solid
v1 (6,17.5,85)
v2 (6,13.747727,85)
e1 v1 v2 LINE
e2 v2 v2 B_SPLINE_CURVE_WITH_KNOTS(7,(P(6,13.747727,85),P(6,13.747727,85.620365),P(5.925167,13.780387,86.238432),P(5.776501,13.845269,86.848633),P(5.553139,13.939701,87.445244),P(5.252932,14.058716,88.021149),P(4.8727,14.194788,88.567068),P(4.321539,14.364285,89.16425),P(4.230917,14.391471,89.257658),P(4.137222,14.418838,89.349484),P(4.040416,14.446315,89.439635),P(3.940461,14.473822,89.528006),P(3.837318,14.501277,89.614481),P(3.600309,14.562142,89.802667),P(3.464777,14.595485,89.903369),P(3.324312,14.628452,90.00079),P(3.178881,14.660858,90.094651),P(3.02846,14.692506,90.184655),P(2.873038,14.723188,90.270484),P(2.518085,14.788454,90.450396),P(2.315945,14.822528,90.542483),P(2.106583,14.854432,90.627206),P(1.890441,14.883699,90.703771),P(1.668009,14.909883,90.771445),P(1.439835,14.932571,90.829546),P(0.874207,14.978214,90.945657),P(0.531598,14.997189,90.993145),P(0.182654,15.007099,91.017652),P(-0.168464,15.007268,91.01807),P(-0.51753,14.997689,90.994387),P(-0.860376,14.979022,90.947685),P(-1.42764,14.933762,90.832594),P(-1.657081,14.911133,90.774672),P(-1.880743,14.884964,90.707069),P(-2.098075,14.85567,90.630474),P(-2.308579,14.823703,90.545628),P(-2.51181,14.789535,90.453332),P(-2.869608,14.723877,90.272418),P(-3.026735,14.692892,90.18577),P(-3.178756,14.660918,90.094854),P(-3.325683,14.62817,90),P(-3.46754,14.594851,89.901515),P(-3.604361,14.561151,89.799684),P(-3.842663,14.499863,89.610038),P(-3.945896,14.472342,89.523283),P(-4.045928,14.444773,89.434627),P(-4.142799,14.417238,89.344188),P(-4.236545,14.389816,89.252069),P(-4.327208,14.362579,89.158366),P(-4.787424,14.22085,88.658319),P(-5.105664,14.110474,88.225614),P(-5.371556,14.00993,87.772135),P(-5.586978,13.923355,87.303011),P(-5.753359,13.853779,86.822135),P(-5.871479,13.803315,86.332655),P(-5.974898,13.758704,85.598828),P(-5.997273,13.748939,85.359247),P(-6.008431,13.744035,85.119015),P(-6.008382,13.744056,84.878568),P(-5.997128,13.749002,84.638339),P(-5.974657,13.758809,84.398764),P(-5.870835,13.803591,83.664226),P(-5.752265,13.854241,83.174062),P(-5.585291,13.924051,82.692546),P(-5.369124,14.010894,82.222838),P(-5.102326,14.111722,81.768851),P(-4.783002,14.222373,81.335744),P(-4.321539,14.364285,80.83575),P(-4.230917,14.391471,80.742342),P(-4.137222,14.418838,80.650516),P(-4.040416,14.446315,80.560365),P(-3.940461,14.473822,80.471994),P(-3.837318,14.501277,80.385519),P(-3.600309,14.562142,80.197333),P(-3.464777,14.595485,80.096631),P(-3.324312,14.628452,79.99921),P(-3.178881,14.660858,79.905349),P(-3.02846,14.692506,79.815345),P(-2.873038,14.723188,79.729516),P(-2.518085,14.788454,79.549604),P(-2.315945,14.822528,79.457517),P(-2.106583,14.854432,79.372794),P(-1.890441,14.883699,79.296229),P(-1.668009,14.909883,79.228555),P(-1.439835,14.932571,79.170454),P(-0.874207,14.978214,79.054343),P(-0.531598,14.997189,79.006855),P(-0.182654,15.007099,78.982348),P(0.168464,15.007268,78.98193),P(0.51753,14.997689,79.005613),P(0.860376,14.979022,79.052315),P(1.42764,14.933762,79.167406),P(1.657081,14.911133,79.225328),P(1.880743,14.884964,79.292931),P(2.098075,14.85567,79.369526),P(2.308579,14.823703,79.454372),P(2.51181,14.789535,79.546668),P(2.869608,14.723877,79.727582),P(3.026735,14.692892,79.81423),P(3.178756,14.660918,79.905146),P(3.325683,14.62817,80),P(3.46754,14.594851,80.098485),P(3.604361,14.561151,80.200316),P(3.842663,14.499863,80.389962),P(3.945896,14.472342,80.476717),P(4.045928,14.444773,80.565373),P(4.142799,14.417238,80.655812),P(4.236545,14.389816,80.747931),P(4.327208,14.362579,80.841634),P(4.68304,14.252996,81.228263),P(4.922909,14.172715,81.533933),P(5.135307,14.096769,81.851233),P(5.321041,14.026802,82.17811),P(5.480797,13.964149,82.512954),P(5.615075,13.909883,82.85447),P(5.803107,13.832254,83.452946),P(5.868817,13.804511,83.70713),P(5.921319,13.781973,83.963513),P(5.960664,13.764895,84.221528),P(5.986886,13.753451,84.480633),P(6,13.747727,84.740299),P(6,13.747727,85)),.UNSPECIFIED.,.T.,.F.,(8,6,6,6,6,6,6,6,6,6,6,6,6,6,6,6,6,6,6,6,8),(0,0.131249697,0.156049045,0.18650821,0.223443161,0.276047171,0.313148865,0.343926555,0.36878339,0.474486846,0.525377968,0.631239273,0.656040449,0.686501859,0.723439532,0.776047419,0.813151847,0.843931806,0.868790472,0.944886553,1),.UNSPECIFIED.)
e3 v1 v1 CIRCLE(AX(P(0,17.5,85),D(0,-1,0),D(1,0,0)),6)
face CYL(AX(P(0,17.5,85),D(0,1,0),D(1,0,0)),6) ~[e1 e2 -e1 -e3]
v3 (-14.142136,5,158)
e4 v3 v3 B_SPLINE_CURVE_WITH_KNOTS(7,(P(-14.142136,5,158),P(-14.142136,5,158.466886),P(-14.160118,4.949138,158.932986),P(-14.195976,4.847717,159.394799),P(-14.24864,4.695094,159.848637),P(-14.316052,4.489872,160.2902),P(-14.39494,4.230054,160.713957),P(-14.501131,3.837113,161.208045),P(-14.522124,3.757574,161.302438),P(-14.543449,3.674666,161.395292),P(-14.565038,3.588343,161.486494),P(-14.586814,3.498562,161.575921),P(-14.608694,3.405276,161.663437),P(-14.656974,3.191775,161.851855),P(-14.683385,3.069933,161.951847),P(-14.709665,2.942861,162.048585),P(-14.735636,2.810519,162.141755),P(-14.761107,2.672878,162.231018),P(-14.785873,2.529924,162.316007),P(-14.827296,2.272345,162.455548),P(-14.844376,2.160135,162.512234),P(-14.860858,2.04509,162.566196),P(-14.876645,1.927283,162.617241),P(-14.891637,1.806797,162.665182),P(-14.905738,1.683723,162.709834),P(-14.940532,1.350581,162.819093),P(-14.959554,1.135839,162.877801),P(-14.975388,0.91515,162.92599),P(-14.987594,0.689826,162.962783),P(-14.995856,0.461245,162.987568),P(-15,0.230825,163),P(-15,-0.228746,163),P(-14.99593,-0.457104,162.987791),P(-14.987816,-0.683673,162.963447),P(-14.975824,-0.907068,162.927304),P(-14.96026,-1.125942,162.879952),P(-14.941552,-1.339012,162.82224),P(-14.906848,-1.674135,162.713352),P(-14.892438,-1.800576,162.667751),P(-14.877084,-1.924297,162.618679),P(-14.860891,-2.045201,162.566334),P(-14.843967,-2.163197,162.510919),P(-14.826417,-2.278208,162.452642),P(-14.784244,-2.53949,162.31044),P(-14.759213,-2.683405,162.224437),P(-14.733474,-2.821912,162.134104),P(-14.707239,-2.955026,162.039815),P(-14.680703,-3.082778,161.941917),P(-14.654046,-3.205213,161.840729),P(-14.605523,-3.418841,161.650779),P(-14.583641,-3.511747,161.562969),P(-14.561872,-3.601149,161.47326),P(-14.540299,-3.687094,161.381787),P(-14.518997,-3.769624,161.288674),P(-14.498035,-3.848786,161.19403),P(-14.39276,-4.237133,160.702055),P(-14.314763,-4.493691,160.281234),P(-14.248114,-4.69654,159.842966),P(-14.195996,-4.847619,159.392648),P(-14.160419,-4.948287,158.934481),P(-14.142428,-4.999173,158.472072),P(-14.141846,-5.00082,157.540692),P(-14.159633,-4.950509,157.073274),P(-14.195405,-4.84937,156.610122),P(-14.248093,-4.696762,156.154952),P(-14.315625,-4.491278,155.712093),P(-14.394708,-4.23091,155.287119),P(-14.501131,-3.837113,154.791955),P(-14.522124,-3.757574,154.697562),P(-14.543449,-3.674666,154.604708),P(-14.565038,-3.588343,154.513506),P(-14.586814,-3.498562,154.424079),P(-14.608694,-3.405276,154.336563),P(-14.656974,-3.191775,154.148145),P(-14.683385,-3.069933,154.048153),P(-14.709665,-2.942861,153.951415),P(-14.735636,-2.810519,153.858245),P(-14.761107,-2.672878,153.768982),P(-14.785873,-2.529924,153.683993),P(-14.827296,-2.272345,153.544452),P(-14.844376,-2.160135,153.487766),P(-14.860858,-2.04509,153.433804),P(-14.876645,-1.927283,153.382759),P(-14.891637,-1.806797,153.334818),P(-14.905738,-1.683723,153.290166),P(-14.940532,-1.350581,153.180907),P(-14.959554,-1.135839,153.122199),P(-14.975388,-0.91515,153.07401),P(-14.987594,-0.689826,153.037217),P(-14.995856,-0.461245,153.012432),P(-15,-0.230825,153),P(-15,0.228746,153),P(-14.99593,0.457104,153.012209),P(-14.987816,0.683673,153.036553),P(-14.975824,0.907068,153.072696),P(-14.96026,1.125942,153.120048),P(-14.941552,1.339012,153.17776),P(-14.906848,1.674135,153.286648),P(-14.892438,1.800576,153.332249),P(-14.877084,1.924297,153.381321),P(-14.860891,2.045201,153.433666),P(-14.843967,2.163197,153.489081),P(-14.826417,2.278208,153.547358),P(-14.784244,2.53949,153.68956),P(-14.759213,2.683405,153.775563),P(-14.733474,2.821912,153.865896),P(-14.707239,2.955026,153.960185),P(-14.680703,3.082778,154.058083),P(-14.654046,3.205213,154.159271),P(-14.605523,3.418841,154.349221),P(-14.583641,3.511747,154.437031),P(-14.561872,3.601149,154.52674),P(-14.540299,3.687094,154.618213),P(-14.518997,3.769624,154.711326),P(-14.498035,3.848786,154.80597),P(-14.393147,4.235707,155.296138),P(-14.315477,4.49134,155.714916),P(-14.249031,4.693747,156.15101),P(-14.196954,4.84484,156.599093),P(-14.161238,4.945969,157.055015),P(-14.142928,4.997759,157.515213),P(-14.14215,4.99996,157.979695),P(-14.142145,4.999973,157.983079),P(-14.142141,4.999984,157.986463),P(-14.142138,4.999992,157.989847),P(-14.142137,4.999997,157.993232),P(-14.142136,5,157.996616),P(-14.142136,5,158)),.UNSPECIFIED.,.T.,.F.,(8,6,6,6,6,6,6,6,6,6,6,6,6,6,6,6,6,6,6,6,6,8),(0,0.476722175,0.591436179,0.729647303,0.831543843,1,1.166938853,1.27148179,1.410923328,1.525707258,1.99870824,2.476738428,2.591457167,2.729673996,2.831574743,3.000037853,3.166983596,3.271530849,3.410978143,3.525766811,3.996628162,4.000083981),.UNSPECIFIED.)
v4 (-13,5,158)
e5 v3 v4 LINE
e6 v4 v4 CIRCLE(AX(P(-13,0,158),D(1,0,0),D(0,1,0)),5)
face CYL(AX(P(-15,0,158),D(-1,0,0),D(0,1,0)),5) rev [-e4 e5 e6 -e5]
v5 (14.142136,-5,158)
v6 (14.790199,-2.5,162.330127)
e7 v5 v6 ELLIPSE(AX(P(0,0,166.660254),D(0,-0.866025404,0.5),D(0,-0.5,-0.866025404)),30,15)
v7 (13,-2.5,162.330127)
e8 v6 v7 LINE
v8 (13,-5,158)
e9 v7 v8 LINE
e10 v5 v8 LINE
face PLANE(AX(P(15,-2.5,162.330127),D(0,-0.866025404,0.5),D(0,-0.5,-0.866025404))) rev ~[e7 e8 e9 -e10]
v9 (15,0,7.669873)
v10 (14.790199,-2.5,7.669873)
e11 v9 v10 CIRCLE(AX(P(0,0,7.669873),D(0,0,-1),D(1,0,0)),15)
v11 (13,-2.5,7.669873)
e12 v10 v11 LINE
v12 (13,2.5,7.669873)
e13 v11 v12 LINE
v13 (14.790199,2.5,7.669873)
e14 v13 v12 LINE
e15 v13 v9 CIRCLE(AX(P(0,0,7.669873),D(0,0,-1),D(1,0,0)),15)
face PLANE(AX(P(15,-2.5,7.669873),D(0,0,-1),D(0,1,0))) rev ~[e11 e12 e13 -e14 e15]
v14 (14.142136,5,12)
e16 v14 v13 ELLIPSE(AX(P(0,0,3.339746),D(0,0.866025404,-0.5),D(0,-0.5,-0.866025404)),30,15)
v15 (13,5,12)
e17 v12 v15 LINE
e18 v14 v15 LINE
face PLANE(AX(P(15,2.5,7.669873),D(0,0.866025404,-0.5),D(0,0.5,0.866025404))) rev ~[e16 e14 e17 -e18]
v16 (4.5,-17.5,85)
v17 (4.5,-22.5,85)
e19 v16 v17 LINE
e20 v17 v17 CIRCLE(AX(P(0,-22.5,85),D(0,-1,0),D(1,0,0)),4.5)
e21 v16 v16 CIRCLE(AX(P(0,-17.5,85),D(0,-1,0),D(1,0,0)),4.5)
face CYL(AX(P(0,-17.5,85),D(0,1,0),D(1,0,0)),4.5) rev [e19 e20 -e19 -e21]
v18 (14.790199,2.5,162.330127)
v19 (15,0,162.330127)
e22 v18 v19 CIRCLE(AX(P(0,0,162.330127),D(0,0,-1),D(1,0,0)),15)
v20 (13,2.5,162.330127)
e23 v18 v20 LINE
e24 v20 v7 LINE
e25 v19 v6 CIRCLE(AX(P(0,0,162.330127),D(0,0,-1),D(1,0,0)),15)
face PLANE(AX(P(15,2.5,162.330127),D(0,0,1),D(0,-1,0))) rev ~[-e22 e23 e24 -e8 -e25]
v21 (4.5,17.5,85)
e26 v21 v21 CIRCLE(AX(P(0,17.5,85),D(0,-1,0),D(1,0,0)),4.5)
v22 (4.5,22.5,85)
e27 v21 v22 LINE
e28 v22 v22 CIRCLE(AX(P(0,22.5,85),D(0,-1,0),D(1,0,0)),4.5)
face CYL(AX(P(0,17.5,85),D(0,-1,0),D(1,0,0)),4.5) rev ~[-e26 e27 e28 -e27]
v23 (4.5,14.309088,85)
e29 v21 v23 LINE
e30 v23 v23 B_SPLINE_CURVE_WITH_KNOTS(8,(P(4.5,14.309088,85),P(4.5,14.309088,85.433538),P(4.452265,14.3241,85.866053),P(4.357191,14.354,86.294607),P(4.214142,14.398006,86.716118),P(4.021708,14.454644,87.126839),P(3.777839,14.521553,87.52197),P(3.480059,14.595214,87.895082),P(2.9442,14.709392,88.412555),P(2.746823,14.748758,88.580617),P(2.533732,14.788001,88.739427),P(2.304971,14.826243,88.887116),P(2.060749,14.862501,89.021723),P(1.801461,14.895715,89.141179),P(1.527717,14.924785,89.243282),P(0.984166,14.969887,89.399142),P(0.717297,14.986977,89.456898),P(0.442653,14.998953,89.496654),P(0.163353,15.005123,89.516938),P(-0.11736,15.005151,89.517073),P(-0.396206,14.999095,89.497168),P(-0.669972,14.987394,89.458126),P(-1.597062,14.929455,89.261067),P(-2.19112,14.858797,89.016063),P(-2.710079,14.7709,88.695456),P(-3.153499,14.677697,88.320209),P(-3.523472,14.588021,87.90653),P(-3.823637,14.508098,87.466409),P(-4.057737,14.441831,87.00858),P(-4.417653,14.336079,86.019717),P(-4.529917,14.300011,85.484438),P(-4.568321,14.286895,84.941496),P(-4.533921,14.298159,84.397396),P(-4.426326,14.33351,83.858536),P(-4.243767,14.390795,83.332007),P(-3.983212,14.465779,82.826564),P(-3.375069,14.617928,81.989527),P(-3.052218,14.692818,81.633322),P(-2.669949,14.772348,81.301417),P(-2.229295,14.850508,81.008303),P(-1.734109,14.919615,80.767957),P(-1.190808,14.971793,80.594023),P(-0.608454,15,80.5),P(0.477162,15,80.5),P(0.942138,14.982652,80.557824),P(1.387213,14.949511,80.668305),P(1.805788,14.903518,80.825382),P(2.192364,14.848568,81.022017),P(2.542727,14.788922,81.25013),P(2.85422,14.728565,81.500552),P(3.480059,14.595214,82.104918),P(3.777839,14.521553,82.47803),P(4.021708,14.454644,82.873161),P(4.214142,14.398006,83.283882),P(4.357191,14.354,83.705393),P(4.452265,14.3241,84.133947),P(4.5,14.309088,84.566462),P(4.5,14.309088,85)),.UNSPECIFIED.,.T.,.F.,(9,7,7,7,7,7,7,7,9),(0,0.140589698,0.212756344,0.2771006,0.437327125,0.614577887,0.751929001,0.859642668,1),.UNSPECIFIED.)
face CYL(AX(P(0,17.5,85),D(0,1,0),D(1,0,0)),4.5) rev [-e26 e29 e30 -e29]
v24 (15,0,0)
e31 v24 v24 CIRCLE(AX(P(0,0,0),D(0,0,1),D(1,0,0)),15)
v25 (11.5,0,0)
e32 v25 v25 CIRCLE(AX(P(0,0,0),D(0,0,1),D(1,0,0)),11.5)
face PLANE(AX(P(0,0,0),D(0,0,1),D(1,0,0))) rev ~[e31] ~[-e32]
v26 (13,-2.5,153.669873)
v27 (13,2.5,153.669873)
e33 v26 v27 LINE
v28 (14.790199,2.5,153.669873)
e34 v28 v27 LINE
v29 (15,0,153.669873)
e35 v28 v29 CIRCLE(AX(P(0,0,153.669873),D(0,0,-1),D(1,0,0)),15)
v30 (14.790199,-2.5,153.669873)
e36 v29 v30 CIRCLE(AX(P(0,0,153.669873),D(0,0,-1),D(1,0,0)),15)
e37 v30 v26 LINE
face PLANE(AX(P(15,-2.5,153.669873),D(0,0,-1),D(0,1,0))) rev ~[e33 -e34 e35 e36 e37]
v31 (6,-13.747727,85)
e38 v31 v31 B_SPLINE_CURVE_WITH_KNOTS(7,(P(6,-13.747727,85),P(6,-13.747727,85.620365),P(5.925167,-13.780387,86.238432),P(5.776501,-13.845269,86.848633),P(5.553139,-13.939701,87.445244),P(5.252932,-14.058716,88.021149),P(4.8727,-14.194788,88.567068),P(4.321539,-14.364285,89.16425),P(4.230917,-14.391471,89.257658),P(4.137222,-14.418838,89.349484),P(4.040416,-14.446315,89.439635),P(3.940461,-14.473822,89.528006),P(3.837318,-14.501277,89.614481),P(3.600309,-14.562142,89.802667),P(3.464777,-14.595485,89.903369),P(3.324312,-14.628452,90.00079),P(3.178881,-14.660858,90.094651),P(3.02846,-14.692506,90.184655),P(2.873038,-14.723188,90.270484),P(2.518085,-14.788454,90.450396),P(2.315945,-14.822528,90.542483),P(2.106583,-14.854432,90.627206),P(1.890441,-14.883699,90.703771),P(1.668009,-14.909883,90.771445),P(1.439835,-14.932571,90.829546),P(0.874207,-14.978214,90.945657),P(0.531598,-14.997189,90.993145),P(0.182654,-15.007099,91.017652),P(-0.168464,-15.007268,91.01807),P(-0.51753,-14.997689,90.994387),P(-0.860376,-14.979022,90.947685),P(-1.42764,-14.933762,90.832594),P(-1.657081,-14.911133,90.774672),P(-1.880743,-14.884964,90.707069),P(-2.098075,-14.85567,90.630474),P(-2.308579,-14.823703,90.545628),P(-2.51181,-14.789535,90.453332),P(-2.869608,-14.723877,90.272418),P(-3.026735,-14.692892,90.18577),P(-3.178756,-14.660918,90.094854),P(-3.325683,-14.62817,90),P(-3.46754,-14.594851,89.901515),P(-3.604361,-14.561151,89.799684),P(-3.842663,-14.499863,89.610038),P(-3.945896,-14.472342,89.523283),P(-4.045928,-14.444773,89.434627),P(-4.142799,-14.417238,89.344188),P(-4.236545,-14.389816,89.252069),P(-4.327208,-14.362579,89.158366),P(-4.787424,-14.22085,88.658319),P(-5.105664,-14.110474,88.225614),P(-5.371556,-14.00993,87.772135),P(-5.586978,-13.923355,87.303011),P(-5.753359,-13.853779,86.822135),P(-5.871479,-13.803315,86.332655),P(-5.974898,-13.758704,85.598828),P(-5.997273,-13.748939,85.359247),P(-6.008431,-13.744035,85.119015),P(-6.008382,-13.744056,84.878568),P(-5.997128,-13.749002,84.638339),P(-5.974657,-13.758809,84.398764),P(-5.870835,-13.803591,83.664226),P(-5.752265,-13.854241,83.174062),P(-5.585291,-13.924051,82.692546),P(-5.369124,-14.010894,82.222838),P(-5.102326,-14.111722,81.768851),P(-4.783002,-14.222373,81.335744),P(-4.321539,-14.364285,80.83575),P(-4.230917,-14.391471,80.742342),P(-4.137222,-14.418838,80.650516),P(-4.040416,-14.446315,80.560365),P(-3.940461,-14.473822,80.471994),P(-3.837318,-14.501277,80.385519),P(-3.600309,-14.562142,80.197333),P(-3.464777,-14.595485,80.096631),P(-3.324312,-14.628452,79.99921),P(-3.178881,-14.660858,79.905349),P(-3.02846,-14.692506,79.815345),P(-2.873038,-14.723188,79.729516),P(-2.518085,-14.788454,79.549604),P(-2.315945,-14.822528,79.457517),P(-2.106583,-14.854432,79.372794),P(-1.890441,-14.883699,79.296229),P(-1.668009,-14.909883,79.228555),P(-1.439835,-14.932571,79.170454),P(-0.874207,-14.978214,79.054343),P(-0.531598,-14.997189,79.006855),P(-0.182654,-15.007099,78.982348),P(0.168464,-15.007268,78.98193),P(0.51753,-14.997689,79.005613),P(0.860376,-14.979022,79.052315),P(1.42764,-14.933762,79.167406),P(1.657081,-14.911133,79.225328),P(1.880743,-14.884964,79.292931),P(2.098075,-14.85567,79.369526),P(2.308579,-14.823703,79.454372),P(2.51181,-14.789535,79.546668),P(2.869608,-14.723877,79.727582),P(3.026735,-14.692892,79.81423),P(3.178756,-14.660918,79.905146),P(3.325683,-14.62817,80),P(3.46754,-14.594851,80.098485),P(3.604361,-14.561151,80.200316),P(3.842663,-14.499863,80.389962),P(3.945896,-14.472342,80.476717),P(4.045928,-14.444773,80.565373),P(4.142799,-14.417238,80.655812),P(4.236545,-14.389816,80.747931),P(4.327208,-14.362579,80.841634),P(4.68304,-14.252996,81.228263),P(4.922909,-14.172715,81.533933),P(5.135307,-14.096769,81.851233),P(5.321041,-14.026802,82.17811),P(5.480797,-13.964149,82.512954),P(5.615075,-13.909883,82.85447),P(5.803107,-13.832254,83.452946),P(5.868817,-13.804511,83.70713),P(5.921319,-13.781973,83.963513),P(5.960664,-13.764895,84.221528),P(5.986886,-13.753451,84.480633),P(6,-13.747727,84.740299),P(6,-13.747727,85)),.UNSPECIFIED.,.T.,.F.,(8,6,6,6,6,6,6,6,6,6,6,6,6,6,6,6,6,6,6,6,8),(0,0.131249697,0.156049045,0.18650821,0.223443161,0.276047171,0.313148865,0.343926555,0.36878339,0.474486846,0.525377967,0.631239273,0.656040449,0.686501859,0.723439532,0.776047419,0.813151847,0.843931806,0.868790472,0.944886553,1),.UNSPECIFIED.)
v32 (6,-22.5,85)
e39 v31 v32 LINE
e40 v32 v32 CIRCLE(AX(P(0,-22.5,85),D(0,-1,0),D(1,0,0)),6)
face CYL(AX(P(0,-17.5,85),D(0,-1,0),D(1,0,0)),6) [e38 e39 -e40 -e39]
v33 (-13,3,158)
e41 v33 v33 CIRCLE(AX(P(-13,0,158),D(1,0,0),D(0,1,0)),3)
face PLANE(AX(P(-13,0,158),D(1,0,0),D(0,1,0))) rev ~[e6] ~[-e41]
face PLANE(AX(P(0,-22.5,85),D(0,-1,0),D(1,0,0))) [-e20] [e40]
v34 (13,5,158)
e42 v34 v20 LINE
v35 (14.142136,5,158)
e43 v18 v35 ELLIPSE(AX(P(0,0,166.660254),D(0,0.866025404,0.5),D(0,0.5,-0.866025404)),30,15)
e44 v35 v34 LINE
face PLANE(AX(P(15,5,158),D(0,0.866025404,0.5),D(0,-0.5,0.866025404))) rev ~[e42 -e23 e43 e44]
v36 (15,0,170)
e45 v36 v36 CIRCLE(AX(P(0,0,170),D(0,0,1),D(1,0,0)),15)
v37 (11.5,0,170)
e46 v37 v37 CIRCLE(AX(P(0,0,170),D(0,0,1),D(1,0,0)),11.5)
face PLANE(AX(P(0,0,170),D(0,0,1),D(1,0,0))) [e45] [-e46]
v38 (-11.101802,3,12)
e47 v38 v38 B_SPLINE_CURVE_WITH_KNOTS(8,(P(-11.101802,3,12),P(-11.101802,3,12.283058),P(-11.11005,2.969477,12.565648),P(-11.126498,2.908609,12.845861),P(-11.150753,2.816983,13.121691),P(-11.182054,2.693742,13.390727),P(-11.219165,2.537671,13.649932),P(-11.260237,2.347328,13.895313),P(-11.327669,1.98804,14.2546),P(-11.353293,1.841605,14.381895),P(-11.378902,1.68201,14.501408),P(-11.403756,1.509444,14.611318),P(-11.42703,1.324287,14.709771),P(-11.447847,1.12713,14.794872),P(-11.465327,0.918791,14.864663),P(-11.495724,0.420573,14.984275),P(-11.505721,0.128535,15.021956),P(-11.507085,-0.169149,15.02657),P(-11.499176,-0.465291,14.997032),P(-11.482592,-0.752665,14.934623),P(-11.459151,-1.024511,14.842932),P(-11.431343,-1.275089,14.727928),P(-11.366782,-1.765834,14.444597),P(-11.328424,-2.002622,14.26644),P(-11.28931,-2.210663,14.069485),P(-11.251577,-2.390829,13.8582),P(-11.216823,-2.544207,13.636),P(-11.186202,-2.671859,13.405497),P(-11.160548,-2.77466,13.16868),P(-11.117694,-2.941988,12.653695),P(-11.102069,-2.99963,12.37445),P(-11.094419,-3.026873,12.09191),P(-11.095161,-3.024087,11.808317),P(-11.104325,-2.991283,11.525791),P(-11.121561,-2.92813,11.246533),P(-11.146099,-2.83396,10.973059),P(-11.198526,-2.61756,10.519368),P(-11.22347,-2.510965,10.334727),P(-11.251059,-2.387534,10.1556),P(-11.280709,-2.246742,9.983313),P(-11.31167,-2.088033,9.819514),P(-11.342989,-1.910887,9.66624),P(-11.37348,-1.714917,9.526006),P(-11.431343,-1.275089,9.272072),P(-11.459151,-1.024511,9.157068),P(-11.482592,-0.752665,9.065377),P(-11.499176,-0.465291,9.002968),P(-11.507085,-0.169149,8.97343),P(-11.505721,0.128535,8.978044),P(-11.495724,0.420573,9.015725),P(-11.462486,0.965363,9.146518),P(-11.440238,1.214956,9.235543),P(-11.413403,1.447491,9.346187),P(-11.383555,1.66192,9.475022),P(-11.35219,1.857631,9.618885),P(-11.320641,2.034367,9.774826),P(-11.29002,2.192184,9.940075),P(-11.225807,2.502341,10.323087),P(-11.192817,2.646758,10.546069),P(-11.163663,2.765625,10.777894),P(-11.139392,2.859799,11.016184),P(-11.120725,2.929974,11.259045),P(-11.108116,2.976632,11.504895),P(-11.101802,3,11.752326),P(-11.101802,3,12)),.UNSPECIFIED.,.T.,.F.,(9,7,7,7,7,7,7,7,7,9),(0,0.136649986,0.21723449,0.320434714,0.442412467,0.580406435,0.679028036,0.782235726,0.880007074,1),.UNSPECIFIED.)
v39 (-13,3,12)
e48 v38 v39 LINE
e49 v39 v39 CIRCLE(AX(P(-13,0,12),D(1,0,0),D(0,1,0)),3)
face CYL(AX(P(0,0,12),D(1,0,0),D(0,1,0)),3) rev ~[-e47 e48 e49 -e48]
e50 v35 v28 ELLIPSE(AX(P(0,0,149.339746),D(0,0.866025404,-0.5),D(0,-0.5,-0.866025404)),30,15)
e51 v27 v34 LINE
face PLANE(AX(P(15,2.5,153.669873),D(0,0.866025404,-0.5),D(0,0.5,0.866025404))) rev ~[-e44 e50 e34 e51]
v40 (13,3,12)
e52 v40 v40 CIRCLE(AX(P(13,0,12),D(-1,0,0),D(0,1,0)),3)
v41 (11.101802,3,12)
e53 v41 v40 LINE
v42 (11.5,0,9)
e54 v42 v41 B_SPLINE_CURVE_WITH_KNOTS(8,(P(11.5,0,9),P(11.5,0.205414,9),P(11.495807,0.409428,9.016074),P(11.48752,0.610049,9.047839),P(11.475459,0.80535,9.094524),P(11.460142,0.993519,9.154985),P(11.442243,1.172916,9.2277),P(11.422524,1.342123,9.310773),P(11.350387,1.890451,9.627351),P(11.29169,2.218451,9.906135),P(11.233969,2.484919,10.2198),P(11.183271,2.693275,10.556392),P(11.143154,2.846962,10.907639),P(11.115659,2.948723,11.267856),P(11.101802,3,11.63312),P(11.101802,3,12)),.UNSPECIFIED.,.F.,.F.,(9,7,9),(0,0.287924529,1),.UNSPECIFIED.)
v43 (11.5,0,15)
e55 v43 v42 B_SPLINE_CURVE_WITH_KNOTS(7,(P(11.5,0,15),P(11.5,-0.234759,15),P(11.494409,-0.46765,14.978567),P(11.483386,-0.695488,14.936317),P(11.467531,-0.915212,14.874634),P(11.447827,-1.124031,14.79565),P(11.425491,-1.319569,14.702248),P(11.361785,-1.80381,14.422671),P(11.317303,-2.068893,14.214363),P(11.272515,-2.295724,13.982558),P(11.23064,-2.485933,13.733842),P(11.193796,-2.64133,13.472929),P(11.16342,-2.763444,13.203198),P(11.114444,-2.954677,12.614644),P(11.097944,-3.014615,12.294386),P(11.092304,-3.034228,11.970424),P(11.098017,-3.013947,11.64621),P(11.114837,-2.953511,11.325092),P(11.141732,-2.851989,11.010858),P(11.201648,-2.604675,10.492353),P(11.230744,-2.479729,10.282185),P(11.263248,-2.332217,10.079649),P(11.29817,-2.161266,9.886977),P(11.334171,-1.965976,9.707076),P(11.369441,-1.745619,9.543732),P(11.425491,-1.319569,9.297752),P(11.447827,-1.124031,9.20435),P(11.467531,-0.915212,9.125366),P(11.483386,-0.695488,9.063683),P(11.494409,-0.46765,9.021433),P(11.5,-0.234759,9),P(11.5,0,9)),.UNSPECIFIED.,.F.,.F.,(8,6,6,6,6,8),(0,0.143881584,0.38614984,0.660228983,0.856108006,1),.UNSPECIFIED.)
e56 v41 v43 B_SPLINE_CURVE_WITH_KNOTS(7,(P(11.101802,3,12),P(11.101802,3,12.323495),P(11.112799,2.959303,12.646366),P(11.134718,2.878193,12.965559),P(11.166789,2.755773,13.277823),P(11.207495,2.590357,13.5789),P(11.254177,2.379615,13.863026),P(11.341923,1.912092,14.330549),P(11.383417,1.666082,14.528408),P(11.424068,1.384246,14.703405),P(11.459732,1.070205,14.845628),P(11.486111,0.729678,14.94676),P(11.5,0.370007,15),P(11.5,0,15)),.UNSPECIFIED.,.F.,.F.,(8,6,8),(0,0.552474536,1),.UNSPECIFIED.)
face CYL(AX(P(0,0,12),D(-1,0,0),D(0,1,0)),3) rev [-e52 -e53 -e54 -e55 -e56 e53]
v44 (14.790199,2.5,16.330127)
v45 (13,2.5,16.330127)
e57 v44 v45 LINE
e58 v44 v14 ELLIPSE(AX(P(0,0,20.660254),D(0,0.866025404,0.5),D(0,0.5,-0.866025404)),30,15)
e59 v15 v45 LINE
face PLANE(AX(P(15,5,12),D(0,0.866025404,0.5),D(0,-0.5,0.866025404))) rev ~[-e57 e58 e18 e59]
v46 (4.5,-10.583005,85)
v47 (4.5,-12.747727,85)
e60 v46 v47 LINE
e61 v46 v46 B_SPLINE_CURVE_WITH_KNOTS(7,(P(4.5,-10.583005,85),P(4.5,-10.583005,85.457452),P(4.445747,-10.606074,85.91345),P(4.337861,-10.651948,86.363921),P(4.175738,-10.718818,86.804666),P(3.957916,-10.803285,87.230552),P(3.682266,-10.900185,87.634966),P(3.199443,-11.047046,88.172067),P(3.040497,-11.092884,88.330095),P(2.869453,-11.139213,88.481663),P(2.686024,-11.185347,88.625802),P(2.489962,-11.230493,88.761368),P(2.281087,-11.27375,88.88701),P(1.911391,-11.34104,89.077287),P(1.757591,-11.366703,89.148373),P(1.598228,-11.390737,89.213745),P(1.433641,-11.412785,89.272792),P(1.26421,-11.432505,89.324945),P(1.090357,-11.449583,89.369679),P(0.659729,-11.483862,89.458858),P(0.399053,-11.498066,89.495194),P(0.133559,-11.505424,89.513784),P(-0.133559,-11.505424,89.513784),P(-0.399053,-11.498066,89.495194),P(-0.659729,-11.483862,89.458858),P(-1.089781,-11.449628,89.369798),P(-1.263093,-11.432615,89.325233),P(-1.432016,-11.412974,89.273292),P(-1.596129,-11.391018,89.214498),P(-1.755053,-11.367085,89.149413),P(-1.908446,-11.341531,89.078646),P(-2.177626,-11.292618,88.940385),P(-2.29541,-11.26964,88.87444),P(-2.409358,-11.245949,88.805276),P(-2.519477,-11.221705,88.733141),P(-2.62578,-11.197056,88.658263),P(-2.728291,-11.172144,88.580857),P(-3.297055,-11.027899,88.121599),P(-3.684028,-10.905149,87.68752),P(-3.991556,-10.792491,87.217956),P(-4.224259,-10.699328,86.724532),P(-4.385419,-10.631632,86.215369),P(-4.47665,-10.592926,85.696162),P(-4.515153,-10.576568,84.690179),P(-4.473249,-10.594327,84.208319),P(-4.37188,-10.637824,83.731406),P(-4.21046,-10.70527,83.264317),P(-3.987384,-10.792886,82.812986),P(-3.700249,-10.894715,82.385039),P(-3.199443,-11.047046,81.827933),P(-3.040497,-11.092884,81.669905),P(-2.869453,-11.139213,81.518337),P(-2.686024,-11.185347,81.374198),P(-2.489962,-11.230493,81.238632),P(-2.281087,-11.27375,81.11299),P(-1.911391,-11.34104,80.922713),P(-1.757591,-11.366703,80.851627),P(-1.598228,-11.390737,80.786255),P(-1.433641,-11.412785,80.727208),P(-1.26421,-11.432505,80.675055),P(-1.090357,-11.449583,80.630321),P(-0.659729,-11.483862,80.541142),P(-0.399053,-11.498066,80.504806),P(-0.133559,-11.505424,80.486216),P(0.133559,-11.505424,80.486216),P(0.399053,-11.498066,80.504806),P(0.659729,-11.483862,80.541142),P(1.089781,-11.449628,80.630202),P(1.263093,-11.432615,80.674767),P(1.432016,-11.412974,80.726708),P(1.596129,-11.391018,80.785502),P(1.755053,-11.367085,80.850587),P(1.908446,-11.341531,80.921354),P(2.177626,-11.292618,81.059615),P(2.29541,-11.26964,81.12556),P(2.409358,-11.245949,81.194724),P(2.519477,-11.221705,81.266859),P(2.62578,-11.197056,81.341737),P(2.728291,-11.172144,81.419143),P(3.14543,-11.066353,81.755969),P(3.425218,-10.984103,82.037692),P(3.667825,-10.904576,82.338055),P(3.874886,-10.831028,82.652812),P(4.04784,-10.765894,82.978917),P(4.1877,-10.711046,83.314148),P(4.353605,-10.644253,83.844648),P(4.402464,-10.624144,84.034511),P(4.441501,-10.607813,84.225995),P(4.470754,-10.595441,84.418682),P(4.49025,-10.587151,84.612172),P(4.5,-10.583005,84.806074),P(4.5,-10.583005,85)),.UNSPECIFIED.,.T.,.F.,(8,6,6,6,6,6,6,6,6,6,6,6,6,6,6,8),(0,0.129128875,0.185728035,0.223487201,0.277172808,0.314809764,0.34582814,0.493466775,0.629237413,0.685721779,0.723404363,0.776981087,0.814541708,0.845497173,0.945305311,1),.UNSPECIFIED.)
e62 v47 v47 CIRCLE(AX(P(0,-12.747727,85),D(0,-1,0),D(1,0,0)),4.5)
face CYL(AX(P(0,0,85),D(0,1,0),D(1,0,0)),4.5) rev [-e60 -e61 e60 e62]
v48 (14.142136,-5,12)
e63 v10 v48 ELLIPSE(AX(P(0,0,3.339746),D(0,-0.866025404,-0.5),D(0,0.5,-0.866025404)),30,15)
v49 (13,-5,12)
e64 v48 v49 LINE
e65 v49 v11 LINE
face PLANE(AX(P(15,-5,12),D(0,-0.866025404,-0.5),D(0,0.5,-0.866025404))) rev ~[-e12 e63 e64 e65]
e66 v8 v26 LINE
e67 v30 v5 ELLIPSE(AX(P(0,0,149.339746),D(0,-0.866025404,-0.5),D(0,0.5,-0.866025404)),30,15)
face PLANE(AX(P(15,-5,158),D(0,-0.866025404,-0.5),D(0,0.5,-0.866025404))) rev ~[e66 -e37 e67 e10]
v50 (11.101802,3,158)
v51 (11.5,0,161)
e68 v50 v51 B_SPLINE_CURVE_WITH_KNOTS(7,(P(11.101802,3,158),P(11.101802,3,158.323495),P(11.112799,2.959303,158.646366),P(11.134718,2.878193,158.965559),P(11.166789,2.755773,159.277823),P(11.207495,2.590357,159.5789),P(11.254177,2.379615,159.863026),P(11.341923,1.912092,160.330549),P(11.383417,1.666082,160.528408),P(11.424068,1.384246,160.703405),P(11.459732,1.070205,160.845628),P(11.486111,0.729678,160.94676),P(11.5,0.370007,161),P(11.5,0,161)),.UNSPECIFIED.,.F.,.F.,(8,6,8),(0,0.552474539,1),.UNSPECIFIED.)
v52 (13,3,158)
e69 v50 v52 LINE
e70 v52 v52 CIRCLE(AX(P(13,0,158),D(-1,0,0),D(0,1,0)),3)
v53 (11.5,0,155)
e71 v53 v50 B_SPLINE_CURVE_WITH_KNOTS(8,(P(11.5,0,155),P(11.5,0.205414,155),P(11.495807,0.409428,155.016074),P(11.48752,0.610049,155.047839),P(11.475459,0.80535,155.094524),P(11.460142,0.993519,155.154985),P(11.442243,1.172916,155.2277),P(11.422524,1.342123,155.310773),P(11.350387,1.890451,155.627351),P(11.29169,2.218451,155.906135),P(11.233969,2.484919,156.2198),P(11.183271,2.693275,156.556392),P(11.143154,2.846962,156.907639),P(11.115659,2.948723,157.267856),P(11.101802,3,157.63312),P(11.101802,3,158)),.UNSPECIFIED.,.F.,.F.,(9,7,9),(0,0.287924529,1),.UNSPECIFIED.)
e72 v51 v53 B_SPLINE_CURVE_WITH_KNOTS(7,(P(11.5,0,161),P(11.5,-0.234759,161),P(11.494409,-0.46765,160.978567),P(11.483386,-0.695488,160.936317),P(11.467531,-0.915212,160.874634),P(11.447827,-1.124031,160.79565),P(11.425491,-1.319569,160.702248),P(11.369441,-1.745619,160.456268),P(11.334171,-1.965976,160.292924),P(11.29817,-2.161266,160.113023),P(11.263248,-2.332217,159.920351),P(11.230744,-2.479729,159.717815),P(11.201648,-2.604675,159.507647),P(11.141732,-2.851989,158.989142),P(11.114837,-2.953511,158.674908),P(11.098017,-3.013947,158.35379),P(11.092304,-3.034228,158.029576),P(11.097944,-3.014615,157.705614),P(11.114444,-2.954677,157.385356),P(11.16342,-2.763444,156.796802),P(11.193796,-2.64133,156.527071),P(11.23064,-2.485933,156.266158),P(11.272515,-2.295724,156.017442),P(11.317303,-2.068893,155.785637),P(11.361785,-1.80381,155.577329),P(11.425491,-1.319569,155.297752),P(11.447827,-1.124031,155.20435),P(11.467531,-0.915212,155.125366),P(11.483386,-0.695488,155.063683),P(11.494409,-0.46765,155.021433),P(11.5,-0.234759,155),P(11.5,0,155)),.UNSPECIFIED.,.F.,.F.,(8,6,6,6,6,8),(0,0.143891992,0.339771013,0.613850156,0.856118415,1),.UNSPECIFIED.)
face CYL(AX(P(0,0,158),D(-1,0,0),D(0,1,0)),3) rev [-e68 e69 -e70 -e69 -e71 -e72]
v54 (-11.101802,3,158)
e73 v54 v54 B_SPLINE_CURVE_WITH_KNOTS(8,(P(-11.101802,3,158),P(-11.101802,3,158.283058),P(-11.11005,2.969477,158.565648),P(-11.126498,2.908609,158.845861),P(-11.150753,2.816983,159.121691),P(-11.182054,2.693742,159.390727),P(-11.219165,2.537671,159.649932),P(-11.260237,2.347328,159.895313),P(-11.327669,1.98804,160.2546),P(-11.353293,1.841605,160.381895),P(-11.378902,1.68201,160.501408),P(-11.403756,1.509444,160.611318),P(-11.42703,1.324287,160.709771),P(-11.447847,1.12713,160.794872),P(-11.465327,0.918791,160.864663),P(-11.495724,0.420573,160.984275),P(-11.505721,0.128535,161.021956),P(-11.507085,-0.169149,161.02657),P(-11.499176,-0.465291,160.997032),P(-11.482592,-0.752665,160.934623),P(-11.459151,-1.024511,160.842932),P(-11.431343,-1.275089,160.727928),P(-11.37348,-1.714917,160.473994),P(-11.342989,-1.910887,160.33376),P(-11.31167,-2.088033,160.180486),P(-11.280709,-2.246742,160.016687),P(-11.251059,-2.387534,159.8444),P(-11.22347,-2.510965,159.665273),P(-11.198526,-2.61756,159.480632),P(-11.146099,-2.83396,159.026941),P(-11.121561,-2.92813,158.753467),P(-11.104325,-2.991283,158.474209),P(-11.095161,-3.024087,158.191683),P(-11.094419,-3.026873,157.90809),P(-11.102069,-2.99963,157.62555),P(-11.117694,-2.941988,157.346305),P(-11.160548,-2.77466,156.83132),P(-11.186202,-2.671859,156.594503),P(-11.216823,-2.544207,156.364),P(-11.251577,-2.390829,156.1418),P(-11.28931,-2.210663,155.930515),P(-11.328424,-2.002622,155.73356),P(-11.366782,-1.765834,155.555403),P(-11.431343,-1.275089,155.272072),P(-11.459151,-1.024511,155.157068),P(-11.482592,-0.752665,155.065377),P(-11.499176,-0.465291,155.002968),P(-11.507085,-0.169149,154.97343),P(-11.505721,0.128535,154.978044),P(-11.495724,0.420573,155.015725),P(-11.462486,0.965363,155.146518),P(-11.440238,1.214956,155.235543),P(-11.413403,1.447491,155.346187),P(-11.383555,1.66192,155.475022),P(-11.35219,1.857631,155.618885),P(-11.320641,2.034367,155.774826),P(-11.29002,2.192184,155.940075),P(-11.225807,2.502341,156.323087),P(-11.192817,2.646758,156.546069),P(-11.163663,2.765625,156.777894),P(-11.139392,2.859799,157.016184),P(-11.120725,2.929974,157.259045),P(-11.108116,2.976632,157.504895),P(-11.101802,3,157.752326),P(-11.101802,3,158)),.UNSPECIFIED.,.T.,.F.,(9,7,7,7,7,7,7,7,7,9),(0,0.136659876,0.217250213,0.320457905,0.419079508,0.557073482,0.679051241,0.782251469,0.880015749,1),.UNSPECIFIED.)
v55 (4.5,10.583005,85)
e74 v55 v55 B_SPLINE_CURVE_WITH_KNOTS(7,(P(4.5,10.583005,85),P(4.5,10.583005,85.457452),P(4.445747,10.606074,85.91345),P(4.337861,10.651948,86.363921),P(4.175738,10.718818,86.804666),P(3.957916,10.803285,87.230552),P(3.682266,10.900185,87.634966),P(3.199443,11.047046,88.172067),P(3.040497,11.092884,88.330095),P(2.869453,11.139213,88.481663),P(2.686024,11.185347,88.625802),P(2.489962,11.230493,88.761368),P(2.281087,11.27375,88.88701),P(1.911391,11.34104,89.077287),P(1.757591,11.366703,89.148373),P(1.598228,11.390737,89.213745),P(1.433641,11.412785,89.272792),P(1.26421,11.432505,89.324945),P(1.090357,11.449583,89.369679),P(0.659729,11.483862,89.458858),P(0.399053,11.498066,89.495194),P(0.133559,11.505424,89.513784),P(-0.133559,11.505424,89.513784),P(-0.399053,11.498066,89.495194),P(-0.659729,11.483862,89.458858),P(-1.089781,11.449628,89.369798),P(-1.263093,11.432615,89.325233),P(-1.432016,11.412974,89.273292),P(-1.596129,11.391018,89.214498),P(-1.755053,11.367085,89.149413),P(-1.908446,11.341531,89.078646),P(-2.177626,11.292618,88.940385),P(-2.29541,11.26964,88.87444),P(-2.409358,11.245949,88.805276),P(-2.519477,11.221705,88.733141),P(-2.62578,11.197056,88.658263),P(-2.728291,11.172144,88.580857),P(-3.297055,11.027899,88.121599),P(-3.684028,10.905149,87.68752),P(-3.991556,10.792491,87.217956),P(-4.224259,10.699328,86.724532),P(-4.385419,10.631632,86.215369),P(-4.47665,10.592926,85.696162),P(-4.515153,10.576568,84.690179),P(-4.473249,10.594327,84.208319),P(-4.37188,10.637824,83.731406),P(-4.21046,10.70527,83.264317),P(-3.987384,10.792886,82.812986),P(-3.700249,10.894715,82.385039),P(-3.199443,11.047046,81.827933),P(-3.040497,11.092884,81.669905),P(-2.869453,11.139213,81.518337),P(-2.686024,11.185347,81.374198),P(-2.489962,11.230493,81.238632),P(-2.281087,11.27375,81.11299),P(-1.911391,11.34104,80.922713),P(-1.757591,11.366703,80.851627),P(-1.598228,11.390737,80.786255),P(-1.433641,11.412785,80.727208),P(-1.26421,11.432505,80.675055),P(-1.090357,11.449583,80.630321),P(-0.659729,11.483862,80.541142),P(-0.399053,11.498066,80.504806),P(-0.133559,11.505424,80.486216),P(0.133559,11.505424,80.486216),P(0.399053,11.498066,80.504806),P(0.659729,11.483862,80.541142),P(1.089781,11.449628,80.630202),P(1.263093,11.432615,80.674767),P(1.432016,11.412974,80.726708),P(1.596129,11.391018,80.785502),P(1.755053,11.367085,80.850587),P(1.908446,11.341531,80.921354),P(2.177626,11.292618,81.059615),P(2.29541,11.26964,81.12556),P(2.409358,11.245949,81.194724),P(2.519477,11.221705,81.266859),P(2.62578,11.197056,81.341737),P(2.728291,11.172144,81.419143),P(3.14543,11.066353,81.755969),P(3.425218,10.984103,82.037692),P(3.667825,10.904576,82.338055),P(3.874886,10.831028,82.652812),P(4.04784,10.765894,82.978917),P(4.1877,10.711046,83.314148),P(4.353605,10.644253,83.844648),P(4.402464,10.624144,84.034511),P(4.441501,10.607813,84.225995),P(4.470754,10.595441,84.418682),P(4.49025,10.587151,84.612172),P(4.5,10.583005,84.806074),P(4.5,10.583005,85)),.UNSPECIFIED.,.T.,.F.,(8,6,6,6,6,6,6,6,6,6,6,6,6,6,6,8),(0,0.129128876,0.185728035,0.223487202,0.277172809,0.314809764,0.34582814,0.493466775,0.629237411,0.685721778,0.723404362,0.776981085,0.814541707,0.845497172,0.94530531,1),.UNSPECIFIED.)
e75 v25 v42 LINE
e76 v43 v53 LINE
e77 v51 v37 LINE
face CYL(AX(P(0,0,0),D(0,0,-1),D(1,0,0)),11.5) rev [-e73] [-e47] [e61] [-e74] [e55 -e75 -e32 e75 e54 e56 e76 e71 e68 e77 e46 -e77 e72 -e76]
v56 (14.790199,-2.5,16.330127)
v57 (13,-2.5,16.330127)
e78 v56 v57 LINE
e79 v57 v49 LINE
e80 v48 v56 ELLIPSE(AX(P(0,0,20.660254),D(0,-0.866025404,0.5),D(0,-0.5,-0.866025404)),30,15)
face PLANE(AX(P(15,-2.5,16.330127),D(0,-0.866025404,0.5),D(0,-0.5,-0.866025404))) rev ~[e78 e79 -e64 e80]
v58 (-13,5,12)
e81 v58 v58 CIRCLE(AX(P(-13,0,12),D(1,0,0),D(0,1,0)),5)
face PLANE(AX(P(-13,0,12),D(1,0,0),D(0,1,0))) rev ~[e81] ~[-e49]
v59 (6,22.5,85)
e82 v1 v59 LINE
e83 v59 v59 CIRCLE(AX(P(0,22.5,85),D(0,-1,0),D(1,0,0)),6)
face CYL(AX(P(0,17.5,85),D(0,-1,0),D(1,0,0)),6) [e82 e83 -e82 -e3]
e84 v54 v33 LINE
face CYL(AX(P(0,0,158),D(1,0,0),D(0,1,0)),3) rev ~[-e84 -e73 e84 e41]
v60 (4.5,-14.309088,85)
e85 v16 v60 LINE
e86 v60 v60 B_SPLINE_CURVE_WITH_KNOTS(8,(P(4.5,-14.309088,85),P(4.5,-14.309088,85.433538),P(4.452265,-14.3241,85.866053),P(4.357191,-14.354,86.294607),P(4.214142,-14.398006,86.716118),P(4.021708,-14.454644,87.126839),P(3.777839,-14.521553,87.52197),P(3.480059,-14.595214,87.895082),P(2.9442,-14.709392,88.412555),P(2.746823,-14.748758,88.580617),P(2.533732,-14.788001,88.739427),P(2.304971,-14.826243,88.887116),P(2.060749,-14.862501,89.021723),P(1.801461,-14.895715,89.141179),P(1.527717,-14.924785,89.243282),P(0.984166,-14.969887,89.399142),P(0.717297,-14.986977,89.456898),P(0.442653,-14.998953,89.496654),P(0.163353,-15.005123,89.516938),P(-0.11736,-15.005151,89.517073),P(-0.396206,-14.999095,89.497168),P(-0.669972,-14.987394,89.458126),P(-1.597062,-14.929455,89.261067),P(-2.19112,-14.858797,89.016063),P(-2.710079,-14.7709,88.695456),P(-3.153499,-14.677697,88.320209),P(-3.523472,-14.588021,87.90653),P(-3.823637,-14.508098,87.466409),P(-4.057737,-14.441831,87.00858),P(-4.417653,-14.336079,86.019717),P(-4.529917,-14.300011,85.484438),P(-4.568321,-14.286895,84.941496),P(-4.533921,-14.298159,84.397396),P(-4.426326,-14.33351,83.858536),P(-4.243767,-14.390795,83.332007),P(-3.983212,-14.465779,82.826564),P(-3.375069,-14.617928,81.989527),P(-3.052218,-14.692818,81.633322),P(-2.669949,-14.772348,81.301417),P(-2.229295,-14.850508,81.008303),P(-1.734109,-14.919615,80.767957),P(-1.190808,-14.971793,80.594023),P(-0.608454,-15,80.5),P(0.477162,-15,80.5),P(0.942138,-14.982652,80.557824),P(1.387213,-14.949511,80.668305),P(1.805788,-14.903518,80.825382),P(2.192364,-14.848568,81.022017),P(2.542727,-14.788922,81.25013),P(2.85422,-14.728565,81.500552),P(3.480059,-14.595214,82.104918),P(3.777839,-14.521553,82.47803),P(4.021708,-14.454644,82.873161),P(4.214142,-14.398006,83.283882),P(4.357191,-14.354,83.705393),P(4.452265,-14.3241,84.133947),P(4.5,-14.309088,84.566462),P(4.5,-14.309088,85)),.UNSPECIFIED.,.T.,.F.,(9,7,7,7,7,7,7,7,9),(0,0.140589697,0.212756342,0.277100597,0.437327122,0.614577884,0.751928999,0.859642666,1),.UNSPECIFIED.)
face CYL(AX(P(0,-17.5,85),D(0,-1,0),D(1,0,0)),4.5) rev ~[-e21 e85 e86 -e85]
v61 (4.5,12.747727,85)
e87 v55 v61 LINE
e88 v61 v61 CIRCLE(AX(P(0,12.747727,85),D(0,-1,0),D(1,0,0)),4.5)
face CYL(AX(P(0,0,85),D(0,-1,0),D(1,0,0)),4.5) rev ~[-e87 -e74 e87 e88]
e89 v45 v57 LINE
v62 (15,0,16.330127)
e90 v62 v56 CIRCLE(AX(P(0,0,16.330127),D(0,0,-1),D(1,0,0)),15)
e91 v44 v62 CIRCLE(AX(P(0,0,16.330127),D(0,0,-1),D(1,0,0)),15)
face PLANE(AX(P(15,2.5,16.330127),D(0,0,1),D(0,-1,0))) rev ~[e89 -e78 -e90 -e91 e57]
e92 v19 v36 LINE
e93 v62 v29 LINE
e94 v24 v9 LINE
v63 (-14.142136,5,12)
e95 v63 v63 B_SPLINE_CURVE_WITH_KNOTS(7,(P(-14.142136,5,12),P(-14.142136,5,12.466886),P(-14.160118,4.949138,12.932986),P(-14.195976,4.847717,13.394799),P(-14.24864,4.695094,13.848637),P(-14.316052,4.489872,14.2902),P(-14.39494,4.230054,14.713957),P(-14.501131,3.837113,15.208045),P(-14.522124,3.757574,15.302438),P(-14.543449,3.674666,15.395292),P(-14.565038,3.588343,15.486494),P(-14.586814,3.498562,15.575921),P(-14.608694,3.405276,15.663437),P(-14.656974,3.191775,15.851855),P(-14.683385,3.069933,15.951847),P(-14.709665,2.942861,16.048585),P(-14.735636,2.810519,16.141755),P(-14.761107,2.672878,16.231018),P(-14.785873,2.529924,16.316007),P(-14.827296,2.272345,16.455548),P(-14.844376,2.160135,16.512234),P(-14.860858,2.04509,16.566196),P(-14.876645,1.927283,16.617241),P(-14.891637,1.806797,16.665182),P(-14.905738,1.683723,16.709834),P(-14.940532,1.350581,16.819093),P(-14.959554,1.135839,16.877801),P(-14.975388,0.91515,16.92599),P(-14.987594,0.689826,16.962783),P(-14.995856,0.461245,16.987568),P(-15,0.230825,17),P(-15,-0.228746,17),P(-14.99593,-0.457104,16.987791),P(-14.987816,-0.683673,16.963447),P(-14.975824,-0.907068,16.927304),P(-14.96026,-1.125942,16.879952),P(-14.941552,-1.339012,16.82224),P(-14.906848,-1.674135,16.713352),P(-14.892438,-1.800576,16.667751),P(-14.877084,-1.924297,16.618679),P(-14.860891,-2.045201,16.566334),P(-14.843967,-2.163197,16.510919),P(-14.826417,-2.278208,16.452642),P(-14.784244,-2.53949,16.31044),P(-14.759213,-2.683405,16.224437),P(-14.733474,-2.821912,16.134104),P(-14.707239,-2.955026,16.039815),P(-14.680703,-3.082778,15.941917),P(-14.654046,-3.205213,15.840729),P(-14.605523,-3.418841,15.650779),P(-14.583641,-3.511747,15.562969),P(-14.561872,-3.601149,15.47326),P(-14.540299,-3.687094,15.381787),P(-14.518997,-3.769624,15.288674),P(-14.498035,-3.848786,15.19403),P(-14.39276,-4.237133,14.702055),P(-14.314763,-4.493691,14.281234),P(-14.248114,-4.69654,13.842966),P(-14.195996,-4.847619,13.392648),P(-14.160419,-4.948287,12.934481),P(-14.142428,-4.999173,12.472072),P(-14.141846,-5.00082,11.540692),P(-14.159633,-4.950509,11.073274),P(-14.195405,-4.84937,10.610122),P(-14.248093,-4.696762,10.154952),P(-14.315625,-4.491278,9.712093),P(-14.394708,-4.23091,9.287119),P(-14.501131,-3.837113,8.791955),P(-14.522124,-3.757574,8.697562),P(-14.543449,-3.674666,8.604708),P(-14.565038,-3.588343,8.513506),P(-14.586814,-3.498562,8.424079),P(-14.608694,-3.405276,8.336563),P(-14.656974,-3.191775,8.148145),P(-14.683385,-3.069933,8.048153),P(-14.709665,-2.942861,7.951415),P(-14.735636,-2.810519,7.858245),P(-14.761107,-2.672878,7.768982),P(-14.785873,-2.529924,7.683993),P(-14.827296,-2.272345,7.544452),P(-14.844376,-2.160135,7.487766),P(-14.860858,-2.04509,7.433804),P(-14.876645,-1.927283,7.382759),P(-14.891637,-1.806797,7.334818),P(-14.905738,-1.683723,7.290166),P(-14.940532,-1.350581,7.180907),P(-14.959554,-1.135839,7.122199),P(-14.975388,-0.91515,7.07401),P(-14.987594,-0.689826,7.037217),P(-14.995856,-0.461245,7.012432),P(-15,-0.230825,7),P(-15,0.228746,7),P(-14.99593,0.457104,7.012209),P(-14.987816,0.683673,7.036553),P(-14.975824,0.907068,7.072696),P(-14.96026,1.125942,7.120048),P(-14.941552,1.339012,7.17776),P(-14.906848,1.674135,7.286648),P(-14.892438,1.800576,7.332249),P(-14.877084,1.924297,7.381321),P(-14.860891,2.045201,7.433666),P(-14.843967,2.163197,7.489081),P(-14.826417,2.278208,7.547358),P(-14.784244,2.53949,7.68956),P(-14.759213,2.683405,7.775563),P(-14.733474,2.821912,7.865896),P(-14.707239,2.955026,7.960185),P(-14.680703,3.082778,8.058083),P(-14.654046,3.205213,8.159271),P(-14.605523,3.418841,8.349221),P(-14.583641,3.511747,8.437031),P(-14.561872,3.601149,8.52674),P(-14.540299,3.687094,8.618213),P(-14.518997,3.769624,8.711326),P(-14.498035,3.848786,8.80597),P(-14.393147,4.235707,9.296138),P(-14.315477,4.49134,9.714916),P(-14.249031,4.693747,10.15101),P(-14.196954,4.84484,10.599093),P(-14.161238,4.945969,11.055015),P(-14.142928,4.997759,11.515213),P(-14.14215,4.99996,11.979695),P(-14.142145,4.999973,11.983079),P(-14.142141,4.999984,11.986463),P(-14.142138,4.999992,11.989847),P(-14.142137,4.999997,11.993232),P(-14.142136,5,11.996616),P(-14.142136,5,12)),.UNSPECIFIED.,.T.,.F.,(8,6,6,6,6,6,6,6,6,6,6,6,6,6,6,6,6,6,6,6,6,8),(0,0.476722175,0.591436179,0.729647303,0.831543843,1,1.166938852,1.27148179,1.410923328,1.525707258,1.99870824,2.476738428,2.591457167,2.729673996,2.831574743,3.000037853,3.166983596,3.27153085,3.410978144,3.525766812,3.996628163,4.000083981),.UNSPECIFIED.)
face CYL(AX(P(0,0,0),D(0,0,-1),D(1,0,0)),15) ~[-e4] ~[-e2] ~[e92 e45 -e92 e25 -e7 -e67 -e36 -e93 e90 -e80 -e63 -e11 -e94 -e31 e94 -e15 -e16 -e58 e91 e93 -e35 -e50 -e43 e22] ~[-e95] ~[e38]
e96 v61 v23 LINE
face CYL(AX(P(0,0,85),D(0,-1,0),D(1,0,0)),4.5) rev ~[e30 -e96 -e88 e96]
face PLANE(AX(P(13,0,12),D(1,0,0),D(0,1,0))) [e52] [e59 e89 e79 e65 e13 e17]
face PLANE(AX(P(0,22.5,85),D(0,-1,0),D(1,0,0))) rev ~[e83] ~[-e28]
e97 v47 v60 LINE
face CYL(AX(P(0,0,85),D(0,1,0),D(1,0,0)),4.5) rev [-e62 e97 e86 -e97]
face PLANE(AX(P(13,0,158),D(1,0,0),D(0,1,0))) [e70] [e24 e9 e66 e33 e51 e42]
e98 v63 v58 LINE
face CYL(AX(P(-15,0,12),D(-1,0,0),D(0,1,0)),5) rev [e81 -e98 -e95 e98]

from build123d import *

# Parameters (mm, degrees)
F0_R           = 15
F0_R_2         = 11.5
F1_DEPTH       = 170
F2_R           = 4.5
F3_DEPTH       = 15.001
F3_DEPTH_BACK  = 15.001
F5_R           = 6
F5_R_2         = 4.5
F6_DEPTH       = 5
F6_DEPTH_BACK  = 4.7522730151
F8_R           = 6
F8_R_2         = 4.5
F9_DEPTH       = 5
F9_DEPTH_BACK  = 4.7522730151
F10_R          = 3
F11_DEPTH      = 15.0010001
F11_DEPTH_BACK = 15.0010001
F14_DEPTH      = 2
F16_R          = 5
F17_DEPTH      = 2


with BuildPart() as f1:
    # F0 (on Top) → F1 (new body)
    with BuildSketch(Plane.XY):
        Circle(F0_R)
        Circle(F0_R_2, mode=Mode.SUBTRACT)
    extrude(amount=F1_DEPTH)

    # F2 (on Front) → F3 (cut, two sides)
    with BuildSketch(Plane.XZ) as f3_sk:
        with Locations((0, 85)):
            Circle(F2_R)
    extrude(amount=-F3_DEPTH, mode=Mode.SUBTRACT)
    extrude(f3_sk.sketch, amount=F3_DEPTH_BACK, mode=Mode.SUBTRACT)

    # F5 (on offset) → F6 (join, two sides)
    with BuildSketch(Plane.XZ.offset(17.5)) as f6_sk:
        with Locations((0, 85)):
            Circle(F5_R)
        with Locations((0, 85)):
            Circle(F5_R_2, mode=Mode.SUBTRACT)
    extrude(amount=F6_DEPTH)
    extrude(f6_sk.sketch, amount=-F6_DEPTH_BACK)

    # F8 (on offset) → F9 (join, two sides)
    with BuildSketch(Plane.XZ.offset(-17.5)) as f9_sk:
        with Locations((0, 85)):
            Circle(F8_R)
        with Locations((0, 85)):
            Circle(F8_R_2, mode=Mode.SUBTRACT)
    extrude(amount=-F9_DEPTH)
    extrude(f9_sk.sketch, amount=F9_DEPTH_BACK)

    # F10 (on Right) → F11 (cut, two sides)
    with BuildSketch(Plane.YZ) as f11_sk:
        with Locations((0, 12)):
            Circle(F10_R)
        with Locations((0, 158)):
            Circle(F10_R)
    extrude(amount=-F11_DEPTH, mode=Mode.SUBTRACT)
    extrude(f11_sk.sketch, amount=F11_DEPTH_BACK, mode=Mode.SUBTRACT)

    # F13 (on offset) → F14 (cut)
    with BuildSketch(Plane.YZ.offset(15)):
        Polygon((-2.5, 162.3301270189), (-5, 158), (-2.5, 153.6698729811), (2.5, 153.6698729811), (5, 158), (2.5, 162.3301270189), align=None)
        Polygon((5, 12), (2.5, 16.3301270189), (-2.5, 16.3301270189), (-5, 12), (-2.5, 7.6698729811), (2.5, 7.6698729811), align=None)
    extrude(amount=-F14_DEPTH, mode=Mode.SUBTRACT)

    # F16 (on offset) → F17 (cut)
    with BuildSketch(Plane.YZ.offset(-15)):
        with Locations((0, 158)):
            Circle(F16_R)
        with Locations((0, 12)):
            Circle(F16_R)
    extrude(amount=F17_DEPTH, mode=Mode.SUBTRACT)


solid = f1.part
